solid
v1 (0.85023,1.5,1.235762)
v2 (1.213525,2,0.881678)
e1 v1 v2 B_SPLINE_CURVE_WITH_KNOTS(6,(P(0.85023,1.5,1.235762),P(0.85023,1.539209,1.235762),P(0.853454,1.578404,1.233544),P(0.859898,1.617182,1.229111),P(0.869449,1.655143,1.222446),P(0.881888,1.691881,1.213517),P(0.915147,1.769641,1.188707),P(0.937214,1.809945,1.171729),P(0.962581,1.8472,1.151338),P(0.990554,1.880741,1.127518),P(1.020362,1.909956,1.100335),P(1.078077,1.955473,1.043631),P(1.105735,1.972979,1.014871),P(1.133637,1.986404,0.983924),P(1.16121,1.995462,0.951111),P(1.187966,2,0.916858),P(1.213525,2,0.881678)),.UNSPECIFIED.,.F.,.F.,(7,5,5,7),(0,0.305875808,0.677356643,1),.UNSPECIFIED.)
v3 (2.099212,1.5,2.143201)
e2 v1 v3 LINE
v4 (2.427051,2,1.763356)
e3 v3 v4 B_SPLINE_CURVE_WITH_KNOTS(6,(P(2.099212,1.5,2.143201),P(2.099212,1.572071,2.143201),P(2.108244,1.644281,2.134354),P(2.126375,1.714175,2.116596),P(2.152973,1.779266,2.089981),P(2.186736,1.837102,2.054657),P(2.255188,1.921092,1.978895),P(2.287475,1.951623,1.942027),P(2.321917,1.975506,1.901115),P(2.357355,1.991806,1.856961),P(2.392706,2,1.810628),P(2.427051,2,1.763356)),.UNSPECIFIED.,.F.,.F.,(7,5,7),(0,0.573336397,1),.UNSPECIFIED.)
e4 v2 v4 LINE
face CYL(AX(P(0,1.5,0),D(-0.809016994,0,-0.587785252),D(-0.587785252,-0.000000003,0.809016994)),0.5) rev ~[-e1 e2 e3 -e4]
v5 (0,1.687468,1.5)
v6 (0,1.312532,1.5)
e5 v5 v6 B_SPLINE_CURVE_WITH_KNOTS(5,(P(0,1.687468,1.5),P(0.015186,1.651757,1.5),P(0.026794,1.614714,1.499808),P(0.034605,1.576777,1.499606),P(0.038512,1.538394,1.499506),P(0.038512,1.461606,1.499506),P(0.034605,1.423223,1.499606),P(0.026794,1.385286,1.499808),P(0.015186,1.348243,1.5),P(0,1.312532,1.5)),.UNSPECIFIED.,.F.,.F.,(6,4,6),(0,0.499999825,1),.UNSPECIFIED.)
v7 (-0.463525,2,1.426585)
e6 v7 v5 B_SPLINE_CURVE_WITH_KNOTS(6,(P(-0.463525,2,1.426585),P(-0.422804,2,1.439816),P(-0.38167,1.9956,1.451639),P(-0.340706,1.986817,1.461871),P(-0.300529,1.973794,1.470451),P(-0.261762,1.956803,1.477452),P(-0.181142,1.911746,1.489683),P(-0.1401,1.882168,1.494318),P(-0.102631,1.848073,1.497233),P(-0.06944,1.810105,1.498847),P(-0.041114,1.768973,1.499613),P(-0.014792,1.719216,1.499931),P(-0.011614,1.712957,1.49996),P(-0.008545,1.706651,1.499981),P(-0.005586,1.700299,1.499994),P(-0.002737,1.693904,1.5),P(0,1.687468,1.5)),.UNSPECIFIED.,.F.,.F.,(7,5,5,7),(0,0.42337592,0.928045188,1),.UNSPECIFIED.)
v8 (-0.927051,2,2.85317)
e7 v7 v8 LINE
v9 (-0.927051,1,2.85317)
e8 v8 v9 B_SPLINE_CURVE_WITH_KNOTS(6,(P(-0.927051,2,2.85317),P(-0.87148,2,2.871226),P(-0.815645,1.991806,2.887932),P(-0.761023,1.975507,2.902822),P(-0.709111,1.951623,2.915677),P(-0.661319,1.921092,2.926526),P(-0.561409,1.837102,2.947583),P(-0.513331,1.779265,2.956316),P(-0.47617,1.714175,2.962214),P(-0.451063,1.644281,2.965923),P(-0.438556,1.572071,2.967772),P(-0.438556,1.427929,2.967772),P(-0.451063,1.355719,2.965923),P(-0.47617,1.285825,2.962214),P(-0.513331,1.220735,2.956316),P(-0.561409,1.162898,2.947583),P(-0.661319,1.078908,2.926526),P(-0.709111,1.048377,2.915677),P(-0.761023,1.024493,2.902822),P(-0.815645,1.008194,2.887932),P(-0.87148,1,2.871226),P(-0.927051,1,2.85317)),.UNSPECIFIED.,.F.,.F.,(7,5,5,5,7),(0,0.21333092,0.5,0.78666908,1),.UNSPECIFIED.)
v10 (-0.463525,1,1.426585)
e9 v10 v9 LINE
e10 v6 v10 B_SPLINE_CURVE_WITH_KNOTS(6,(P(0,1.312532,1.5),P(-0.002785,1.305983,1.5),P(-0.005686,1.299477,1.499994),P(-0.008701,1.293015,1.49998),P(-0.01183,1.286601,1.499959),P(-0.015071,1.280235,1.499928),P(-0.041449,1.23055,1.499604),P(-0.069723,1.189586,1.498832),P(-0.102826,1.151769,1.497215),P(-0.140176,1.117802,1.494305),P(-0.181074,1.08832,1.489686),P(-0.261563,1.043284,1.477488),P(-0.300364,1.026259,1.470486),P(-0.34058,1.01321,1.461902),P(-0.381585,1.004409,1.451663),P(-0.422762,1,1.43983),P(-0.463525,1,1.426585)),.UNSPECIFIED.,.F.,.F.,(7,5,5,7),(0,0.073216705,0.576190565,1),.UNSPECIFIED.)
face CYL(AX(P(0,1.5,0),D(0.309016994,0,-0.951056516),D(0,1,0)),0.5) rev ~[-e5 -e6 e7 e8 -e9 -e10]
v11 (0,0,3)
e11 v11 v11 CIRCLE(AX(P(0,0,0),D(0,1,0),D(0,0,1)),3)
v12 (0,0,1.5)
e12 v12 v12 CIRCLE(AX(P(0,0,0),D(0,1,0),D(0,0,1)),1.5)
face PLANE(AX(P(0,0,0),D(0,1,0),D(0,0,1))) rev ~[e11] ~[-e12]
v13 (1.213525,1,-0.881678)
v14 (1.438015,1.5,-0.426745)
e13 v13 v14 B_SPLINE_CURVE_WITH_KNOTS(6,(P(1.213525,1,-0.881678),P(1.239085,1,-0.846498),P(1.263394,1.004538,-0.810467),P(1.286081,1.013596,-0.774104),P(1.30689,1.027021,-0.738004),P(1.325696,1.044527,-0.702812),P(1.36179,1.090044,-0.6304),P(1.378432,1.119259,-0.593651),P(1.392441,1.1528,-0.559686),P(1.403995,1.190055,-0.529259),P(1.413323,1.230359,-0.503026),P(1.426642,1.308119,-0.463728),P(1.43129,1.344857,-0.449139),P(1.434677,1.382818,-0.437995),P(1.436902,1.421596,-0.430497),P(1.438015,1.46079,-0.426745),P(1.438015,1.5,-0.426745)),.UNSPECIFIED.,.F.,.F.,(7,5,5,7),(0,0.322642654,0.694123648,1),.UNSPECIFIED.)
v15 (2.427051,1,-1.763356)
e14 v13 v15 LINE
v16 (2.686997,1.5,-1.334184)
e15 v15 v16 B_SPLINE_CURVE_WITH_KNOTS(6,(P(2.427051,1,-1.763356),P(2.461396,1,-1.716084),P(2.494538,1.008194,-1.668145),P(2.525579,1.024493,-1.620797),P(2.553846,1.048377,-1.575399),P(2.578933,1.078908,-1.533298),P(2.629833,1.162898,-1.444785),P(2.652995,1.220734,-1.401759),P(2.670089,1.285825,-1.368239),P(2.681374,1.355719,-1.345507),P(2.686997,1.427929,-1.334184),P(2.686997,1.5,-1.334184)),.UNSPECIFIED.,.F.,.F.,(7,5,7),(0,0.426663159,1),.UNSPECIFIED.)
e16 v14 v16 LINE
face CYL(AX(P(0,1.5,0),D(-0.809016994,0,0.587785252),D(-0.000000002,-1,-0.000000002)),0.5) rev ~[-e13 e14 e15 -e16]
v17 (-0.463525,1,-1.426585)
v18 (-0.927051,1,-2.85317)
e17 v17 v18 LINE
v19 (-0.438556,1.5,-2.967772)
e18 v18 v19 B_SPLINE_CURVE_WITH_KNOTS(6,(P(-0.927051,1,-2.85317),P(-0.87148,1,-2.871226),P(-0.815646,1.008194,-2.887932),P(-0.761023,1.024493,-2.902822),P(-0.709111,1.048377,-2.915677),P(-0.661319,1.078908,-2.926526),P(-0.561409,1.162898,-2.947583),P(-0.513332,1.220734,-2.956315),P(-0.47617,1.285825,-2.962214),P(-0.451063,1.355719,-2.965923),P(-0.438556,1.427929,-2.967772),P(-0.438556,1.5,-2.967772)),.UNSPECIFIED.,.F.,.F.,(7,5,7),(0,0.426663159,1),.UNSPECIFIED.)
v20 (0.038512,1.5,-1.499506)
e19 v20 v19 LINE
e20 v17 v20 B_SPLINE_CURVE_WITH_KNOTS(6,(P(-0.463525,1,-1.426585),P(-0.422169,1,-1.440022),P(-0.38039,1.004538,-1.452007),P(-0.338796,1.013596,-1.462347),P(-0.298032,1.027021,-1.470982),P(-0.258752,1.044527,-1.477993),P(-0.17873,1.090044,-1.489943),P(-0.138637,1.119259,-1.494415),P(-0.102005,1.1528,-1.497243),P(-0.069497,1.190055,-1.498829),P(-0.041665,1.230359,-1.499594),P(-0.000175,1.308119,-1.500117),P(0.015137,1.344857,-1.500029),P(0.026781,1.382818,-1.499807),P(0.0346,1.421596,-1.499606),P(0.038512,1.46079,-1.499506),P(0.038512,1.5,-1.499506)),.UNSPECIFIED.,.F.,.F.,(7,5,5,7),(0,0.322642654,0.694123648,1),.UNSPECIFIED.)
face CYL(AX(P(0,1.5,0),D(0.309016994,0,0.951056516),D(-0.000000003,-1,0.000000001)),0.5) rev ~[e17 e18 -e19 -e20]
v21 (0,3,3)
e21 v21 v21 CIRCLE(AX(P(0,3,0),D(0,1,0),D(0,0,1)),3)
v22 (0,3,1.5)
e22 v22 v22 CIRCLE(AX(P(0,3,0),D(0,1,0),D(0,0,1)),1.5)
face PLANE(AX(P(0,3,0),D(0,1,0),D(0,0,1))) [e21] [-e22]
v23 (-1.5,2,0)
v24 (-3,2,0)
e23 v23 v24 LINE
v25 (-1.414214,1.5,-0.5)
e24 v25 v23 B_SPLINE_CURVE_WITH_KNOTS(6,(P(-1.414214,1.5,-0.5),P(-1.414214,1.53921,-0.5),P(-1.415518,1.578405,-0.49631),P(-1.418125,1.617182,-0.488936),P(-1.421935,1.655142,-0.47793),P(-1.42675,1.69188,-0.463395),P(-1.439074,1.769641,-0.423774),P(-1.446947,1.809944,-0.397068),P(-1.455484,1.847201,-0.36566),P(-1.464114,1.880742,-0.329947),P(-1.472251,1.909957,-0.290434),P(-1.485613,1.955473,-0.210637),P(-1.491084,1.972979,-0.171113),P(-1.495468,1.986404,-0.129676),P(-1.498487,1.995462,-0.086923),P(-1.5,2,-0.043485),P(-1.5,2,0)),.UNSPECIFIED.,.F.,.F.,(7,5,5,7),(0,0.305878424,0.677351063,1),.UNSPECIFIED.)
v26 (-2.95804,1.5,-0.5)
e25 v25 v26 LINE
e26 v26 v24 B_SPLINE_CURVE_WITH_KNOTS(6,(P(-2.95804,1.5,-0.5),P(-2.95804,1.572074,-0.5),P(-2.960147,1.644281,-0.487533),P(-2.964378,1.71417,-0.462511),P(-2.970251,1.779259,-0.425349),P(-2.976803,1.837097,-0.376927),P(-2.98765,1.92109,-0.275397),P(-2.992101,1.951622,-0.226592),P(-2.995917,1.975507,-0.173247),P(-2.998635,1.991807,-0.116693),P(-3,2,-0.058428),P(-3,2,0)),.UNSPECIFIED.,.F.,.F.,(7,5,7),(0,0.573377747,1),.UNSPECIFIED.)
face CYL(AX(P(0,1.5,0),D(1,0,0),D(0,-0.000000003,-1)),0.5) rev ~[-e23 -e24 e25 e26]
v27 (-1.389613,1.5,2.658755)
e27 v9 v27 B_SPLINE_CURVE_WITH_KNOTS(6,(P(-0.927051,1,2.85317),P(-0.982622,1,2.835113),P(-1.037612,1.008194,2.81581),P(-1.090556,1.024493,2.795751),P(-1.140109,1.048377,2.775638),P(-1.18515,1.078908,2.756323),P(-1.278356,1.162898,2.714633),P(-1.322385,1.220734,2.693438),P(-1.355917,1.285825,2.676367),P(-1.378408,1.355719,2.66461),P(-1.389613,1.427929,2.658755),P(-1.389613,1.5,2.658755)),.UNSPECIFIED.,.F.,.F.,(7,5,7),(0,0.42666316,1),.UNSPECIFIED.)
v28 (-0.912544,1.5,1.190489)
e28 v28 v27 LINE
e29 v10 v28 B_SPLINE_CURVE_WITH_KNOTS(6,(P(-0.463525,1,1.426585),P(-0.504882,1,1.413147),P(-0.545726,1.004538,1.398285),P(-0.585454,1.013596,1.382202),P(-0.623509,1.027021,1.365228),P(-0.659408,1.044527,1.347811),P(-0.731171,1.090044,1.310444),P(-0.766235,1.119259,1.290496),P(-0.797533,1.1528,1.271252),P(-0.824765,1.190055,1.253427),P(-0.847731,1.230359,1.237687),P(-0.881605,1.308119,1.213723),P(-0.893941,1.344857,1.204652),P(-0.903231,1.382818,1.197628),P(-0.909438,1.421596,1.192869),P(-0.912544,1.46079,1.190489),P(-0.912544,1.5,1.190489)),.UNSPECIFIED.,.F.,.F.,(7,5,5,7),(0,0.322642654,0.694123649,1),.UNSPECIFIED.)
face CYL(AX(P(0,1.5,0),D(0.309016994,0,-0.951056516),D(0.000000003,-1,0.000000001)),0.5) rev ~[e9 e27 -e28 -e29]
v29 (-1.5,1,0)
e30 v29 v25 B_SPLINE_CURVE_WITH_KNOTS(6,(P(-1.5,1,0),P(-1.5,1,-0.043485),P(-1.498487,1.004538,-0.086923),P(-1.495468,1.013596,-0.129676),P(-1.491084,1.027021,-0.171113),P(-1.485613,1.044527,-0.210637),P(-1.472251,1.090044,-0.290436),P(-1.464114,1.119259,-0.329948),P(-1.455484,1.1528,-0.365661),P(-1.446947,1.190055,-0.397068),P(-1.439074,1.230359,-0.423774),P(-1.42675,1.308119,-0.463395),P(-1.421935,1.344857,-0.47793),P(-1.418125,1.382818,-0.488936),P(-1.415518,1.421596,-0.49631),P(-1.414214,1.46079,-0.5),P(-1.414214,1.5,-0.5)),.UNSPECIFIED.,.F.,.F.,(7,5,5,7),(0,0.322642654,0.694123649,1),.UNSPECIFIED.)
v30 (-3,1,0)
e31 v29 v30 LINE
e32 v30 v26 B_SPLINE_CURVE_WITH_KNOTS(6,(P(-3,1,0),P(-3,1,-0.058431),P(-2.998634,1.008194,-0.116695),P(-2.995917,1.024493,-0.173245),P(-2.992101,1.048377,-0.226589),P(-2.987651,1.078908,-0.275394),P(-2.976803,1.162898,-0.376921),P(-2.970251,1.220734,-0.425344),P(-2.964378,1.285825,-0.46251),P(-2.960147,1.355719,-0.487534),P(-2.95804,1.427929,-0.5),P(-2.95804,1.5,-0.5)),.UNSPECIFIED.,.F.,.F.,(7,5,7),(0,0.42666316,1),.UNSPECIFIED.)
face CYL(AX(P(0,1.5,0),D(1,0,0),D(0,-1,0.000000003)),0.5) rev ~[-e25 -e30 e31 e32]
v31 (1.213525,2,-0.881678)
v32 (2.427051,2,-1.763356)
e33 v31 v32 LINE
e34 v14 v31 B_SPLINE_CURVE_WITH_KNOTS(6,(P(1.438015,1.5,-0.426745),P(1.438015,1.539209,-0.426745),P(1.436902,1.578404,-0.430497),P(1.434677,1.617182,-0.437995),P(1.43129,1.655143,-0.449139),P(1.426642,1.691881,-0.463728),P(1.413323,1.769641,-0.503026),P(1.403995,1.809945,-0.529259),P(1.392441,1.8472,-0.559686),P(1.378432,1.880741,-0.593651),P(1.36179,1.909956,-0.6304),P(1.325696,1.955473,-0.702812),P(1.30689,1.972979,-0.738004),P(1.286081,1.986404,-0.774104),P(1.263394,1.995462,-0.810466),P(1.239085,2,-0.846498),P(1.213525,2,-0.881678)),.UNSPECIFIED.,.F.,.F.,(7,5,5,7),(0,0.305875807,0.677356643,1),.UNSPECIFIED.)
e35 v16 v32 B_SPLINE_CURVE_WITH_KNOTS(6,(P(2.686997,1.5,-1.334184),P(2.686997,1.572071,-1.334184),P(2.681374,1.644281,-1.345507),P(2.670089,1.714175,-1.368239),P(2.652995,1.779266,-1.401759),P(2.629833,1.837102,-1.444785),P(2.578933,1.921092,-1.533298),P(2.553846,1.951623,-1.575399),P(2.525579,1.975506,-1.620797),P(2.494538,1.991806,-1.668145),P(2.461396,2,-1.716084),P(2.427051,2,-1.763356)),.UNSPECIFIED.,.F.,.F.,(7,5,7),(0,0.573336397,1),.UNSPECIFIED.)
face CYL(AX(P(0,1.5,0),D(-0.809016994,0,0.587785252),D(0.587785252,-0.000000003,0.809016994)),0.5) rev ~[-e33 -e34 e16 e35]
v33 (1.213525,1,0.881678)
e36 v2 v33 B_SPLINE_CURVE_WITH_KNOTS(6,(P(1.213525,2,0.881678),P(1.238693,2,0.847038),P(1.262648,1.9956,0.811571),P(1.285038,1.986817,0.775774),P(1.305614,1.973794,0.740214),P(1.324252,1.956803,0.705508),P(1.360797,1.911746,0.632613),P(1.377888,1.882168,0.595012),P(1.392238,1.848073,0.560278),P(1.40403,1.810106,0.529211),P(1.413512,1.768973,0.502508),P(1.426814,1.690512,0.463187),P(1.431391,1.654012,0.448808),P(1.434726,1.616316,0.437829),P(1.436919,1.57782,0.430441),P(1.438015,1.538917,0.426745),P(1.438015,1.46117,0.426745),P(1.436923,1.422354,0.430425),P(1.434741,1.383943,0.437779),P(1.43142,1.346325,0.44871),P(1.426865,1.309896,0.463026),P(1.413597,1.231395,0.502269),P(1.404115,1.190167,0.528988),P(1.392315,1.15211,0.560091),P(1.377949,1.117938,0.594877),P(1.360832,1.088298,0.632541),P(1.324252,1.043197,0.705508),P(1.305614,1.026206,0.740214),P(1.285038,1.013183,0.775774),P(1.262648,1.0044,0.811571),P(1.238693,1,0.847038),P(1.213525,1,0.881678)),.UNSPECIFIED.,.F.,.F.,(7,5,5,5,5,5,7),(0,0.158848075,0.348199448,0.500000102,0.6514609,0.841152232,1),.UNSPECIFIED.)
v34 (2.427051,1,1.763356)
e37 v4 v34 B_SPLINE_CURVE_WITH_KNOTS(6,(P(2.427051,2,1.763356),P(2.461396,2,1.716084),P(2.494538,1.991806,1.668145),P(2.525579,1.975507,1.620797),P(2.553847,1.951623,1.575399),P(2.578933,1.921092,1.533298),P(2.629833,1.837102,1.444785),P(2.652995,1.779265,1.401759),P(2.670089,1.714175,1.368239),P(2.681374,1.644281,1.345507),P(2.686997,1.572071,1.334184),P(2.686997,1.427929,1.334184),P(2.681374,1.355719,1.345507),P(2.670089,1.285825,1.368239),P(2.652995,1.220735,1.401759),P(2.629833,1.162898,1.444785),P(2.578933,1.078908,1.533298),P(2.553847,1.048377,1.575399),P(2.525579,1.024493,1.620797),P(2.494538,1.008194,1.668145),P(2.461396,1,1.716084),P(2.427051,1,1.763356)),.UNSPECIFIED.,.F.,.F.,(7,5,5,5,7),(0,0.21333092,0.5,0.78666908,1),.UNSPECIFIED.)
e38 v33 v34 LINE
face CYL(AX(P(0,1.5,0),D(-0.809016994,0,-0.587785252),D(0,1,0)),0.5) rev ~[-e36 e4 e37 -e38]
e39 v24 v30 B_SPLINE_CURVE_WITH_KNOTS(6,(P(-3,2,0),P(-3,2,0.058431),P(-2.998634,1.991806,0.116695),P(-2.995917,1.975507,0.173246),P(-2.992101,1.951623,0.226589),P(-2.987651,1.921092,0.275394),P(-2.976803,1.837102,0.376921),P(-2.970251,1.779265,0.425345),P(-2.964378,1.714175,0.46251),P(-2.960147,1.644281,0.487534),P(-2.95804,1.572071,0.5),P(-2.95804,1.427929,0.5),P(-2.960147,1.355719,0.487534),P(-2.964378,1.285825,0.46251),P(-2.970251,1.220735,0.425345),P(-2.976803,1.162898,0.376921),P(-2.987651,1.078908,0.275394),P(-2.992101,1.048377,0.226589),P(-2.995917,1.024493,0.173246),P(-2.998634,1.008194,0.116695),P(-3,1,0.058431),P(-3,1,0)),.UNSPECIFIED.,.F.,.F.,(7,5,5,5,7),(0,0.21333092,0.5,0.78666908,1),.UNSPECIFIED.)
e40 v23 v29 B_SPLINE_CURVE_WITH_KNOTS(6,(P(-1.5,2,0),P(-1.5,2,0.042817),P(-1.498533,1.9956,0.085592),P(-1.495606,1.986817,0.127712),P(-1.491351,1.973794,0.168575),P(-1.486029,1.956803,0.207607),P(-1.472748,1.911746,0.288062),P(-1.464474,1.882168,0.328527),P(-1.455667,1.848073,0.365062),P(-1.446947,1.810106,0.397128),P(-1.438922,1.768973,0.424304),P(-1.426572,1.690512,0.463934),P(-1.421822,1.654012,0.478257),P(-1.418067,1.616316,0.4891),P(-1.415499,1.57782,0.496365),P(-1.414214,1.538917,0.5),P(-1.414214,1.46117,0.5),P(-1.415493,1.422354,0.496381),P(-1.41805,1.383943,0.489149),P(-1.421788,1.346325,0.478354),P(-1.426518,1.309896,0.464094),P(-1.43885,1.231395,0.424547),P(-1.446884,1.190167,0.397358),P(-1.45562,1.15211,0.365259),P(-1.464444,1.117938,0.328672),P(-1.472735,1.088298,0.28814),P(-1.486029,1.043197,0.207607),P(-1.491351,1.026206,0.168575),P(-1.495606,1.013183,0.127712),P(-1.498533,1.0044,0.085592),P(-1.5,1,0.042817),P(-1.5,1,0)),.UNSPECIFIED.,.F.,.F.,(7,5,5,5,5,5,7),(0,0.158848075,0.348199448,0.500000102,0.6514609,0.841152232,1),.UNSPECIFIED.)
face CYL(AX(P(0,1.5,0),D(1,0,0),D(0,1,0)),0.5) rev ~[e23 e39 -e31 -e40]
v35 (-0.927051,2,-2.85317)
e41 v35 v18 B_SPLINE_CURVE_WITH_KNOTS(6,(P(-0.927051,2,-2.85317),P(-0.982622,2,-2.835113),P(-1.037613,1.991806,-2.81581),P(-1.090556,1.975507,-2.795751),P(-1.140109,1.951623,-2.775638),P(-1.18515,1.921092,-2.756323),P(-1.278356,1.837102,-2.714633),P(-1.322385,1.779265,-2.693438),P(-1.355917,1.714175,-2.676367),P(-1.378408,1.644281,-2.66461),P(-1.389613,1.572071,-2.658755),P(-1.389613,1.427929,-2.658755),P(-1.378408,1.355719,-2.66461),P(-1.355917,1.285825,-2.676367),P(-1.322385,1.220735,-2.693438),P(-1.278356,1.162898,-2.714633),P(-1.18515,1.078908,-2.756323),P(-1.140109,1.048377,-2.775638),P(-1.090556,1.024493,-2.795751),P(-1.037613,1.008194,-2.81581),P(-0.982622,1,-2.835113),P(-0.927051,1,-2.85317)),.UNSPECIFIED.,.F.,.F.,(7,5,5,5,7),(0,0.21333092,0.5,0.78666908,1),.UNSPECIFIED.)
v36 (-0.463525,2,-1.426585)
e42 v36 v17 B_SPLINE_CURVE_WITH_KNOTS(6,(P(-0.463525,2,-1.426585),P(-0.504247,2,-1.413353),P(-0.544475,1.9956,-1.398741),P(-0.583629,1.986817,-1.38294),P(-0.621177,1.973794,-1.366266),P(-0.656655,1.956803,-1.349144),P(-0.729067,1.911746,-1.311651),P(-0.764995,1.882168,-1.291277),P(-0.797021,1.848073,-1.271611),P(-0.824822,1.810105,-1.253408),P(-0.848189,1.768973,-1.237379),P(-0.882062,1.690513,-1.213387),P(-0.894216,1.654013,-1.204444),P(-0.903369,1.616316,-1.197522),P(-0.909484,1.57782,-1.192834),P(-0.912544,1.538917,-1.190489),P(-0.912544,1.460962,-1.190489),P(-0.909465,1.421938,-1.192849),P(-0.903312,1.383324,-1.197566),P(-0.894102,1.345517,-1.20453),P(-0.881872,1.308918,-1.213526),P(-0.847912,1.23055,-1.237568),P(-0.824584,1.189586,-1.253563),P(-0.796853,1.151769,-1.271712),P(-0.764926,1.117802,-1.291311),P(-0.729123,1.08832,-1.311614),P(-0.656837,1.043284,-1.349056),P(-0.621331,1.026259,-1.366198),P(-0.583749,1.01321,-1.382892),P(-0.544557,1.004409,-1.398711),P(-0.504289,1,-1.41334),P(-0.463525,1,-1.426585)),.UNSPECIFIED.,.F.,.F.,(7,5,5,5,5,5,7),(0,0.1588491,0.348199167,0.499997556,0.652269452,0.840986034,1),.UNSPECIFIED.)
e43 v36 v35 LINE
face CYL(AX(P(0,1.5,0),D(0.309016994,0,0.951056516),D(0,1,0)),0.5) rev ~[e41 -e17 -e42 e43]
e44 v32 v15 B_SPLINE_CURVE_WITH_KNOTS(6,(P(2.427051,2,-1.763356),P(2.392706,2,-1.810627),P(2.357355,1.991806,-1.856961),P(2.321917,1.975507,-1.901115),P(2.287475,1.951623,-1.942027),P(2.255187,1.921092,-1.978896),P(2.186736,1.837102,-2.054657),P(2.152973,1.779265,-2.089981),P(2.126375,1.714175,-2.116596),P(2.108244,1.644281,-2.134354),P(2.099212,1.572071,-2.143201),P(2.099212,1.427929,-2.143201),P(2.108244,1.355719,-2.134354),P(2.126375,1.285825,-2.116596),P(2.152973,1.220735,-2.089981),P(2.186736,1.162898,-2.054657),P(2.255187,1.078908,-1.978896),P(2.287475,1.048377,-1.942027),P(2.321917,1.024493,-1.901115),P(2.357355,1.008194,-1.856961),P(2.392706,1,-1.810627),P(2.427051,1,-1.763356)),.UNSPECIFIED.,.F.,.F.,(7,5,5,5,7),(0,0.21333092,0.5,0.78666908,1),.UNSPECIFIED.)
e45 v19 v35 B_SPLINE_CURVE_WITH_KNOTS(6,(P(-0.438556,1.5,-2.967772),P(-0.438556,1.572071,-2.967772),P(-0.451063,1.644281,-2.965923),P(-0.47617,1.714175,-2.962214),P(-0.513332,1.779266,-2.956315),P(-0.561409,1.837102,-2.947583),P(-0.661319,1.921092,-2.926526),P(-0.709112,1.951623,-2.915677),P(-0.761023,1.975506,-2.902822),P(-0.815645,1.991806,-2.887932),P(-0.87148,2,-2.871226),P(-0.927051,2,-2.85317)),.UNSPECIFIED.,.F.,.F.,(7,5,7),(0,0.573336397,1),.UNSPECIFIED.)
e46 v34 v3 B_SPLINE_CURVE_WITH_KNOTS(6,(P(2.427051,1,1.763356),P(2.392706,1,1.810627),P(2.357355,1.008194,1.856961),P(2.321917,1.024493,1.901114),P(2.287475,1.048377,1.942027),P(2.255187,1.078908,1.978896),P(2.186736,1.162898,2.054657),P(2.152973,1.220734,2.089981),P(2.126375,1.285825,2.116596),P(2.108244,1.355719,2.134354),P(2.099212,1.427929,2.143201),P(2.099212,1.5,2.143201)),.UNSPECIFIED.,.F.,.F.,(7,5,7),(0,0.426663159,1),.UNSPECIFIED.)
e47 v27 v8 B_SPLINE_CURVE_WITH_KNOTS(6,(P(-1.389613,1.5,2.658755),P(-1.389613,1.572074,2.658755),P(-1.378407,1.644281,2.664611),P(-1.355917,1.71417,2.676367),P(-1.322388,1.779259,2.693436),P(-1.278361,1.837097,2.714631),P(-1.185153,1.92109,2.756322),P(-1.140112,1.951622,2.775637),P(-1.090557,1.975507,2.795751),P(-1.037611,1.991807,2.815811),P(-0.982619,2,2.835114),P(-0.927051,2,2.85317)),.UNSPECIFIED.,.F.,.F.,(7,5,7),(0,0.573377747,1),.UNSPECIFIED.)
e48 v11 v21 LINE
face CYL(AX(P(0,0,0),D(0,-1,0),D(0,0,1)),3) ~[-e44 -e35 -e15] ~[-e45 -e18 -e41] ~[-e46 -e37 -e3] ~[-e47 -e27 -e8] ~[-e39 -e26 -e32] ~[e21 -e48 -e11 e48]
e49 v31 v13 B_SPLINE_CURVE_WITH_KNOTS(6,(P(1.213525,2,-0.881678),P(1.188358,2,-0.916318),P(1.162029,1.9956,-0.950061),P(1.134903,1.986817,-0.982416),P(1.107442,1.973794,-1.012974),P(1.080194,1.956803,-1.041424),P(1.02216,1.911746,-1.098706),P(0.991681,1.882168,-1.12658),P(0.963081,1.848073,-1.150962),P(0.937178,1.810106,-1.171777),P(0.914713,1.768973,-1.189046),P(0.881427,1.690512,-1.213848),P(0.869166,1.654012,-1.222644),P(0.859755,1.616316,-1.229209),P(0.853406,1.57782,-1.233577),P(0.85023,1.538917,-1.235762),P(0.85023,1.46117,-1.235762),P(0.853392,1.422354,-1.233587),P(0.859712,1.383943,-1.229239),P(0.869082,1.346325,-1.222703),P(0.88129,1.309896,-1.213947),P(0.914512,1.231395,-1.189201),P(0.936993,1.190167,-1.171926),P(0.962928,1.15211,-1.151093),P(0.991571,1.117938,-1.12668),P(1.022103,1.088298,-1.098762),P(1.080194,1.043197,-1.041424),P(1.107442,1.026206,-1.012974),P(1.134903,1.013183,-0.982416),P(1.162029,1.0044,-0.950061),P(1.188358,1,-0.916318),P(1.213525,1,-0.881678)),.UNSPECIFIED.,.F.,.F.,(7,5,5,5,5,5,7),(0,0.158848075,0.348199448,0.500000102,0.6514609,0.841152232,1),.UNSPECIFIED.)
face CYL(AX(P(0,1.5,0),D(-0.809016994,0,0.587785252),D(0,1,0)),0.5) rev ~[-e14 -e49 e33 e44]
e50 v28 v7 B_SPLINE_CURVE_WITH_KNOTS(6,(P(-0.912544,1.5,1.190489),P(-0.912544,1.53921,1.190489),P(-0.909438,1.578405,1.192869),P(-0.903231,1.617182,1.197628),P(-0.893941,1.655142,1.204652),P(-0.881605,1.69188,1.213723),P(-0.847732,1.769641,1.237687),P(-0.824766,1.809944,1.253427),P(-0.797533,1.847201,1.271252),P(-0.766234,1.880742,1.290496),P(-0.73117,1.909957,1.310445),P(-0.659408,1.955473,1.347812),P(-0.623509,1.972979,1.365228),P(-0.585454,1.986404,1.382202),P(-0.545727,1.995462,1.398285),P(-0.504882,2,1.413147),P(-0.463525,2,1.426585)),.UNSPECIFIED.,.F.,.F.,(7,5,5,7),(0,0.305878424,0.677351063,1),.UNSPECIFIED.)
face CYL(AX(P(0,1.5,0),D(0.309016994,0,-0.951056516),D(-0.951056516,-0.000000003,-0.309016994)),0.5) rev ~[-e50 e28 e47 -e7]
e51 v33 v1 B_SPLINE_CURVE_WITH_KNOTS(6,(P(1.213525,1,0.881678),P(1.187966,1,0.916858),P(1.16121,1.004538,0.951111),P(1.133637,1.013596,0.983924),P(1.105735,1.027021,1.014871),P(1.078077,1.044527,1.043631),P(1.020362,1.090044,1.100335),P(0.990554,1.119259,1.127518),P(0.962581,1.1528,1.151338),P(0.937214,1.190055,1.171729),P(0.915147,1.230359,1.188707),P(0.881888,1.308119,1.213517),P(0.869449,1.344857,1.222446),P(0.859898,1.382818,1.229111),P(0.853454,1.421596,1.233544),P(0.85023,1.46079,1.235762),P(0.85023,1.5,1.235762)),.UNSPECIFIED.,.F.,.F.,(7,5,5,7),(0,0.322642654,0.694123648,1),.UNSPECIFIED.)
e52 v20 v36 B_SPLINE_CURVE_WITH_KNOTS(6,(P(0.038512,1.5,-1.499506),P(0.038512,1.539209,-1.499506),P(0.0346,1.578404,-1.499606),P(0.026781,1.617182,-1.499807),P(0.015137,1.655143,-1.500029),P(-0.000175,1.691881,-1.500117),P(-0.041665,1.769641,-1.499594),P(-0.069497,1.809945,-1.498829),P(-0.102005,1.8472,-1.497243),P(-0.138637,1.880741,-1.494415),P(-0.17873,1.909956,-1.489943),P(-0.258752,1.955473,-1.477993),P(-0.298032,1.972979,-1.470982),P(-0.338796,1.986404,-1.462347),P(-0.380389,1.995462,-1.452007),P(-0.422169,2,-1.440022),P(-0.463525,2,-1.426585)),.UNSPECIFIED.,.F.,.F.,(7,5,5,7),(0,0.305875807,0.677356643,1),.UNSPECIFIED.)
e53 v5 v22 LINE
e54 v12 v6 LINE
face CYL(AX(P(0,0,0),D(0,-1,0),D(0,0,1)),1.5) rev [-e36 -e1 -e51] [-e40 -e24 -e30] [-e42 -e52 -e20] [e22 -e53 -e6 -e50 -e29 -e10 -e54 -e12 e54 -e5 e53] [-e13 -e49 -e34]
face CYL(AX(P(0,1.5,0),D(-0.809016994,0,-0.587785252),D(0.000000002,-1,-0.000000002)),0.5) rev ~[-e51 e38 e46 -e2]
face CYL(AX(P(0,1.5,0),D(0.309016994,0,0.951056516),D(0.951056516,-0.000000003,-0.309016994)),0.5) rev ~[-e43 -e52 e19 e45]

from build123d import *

# Parameters (mm, degrees)
SKETCH1_R           = 3
SKETCH1_R_2         = 1.5
BOSS_EXTRUDE1_DEPTH = 3
CUT_EXTRUDE1_DEPTH  = 3
CIRPATTERN1_COUNT   = 5


with BuildPart() as part:
    # Sketch1 → Boss-Extrude1 (new body)
    with BuildSketch(Plane(origin=(0, 0, 0), x_dir=(1, 0, 0), z_dir=(0, 1, 0))):
        with Locations(Location((0, 0, 0), (0, 0, 270))):
            Circle(SKETCH1_R)
        with Locations(Location((0, 0, 0), (0, 0, 270))):
            Circle(SKETCH1_R_2, mode=Mode.SUBTRACT)
    extrude(amount=BOSS_EXTRUDE1_DEPTH)

    # Sketch2 → Cut-Extrude1 (cut)
    with BuildSketch(Plane(origin=(0, 0, 0), x_dir=(0, 0, -1), z_dir=(1, 0, 0))):
        with BuildLine():
            ThreePointArc((0, 2), (-0.5, 1.5), (0, 1))
            Line((0, 1), (0, 2))
        make_face()
        with BuildLine():
            Line((0, 2), (0, 1))
            ThreePointArc((0, 1), (0.353553391, 1.146446609), (0.5, 1.5))
            ThreePointArc((0.5, 1.5), (0.353553391, 1.853553391), (0, 2))
        make_face()
    cut_extrude1 = extrude(amount=-CUT_EXTRUDE1_DEPTH, mode=Mode.SUBTRACT)

    # CirPattern1: Cut-Extrude1 ×5 about axis
    cirpattern1_axis = Axis((0, 0, 0), (0, 1, 0))
    for i in range(1, CIRPATTERN1_COUNT):
        add(cut_extrude1.rotate(cirpattern1_axis, i * 360 / CIRPATTERN1_COUNT), mode=Mode.SUBTRACT)


solid = part.part
